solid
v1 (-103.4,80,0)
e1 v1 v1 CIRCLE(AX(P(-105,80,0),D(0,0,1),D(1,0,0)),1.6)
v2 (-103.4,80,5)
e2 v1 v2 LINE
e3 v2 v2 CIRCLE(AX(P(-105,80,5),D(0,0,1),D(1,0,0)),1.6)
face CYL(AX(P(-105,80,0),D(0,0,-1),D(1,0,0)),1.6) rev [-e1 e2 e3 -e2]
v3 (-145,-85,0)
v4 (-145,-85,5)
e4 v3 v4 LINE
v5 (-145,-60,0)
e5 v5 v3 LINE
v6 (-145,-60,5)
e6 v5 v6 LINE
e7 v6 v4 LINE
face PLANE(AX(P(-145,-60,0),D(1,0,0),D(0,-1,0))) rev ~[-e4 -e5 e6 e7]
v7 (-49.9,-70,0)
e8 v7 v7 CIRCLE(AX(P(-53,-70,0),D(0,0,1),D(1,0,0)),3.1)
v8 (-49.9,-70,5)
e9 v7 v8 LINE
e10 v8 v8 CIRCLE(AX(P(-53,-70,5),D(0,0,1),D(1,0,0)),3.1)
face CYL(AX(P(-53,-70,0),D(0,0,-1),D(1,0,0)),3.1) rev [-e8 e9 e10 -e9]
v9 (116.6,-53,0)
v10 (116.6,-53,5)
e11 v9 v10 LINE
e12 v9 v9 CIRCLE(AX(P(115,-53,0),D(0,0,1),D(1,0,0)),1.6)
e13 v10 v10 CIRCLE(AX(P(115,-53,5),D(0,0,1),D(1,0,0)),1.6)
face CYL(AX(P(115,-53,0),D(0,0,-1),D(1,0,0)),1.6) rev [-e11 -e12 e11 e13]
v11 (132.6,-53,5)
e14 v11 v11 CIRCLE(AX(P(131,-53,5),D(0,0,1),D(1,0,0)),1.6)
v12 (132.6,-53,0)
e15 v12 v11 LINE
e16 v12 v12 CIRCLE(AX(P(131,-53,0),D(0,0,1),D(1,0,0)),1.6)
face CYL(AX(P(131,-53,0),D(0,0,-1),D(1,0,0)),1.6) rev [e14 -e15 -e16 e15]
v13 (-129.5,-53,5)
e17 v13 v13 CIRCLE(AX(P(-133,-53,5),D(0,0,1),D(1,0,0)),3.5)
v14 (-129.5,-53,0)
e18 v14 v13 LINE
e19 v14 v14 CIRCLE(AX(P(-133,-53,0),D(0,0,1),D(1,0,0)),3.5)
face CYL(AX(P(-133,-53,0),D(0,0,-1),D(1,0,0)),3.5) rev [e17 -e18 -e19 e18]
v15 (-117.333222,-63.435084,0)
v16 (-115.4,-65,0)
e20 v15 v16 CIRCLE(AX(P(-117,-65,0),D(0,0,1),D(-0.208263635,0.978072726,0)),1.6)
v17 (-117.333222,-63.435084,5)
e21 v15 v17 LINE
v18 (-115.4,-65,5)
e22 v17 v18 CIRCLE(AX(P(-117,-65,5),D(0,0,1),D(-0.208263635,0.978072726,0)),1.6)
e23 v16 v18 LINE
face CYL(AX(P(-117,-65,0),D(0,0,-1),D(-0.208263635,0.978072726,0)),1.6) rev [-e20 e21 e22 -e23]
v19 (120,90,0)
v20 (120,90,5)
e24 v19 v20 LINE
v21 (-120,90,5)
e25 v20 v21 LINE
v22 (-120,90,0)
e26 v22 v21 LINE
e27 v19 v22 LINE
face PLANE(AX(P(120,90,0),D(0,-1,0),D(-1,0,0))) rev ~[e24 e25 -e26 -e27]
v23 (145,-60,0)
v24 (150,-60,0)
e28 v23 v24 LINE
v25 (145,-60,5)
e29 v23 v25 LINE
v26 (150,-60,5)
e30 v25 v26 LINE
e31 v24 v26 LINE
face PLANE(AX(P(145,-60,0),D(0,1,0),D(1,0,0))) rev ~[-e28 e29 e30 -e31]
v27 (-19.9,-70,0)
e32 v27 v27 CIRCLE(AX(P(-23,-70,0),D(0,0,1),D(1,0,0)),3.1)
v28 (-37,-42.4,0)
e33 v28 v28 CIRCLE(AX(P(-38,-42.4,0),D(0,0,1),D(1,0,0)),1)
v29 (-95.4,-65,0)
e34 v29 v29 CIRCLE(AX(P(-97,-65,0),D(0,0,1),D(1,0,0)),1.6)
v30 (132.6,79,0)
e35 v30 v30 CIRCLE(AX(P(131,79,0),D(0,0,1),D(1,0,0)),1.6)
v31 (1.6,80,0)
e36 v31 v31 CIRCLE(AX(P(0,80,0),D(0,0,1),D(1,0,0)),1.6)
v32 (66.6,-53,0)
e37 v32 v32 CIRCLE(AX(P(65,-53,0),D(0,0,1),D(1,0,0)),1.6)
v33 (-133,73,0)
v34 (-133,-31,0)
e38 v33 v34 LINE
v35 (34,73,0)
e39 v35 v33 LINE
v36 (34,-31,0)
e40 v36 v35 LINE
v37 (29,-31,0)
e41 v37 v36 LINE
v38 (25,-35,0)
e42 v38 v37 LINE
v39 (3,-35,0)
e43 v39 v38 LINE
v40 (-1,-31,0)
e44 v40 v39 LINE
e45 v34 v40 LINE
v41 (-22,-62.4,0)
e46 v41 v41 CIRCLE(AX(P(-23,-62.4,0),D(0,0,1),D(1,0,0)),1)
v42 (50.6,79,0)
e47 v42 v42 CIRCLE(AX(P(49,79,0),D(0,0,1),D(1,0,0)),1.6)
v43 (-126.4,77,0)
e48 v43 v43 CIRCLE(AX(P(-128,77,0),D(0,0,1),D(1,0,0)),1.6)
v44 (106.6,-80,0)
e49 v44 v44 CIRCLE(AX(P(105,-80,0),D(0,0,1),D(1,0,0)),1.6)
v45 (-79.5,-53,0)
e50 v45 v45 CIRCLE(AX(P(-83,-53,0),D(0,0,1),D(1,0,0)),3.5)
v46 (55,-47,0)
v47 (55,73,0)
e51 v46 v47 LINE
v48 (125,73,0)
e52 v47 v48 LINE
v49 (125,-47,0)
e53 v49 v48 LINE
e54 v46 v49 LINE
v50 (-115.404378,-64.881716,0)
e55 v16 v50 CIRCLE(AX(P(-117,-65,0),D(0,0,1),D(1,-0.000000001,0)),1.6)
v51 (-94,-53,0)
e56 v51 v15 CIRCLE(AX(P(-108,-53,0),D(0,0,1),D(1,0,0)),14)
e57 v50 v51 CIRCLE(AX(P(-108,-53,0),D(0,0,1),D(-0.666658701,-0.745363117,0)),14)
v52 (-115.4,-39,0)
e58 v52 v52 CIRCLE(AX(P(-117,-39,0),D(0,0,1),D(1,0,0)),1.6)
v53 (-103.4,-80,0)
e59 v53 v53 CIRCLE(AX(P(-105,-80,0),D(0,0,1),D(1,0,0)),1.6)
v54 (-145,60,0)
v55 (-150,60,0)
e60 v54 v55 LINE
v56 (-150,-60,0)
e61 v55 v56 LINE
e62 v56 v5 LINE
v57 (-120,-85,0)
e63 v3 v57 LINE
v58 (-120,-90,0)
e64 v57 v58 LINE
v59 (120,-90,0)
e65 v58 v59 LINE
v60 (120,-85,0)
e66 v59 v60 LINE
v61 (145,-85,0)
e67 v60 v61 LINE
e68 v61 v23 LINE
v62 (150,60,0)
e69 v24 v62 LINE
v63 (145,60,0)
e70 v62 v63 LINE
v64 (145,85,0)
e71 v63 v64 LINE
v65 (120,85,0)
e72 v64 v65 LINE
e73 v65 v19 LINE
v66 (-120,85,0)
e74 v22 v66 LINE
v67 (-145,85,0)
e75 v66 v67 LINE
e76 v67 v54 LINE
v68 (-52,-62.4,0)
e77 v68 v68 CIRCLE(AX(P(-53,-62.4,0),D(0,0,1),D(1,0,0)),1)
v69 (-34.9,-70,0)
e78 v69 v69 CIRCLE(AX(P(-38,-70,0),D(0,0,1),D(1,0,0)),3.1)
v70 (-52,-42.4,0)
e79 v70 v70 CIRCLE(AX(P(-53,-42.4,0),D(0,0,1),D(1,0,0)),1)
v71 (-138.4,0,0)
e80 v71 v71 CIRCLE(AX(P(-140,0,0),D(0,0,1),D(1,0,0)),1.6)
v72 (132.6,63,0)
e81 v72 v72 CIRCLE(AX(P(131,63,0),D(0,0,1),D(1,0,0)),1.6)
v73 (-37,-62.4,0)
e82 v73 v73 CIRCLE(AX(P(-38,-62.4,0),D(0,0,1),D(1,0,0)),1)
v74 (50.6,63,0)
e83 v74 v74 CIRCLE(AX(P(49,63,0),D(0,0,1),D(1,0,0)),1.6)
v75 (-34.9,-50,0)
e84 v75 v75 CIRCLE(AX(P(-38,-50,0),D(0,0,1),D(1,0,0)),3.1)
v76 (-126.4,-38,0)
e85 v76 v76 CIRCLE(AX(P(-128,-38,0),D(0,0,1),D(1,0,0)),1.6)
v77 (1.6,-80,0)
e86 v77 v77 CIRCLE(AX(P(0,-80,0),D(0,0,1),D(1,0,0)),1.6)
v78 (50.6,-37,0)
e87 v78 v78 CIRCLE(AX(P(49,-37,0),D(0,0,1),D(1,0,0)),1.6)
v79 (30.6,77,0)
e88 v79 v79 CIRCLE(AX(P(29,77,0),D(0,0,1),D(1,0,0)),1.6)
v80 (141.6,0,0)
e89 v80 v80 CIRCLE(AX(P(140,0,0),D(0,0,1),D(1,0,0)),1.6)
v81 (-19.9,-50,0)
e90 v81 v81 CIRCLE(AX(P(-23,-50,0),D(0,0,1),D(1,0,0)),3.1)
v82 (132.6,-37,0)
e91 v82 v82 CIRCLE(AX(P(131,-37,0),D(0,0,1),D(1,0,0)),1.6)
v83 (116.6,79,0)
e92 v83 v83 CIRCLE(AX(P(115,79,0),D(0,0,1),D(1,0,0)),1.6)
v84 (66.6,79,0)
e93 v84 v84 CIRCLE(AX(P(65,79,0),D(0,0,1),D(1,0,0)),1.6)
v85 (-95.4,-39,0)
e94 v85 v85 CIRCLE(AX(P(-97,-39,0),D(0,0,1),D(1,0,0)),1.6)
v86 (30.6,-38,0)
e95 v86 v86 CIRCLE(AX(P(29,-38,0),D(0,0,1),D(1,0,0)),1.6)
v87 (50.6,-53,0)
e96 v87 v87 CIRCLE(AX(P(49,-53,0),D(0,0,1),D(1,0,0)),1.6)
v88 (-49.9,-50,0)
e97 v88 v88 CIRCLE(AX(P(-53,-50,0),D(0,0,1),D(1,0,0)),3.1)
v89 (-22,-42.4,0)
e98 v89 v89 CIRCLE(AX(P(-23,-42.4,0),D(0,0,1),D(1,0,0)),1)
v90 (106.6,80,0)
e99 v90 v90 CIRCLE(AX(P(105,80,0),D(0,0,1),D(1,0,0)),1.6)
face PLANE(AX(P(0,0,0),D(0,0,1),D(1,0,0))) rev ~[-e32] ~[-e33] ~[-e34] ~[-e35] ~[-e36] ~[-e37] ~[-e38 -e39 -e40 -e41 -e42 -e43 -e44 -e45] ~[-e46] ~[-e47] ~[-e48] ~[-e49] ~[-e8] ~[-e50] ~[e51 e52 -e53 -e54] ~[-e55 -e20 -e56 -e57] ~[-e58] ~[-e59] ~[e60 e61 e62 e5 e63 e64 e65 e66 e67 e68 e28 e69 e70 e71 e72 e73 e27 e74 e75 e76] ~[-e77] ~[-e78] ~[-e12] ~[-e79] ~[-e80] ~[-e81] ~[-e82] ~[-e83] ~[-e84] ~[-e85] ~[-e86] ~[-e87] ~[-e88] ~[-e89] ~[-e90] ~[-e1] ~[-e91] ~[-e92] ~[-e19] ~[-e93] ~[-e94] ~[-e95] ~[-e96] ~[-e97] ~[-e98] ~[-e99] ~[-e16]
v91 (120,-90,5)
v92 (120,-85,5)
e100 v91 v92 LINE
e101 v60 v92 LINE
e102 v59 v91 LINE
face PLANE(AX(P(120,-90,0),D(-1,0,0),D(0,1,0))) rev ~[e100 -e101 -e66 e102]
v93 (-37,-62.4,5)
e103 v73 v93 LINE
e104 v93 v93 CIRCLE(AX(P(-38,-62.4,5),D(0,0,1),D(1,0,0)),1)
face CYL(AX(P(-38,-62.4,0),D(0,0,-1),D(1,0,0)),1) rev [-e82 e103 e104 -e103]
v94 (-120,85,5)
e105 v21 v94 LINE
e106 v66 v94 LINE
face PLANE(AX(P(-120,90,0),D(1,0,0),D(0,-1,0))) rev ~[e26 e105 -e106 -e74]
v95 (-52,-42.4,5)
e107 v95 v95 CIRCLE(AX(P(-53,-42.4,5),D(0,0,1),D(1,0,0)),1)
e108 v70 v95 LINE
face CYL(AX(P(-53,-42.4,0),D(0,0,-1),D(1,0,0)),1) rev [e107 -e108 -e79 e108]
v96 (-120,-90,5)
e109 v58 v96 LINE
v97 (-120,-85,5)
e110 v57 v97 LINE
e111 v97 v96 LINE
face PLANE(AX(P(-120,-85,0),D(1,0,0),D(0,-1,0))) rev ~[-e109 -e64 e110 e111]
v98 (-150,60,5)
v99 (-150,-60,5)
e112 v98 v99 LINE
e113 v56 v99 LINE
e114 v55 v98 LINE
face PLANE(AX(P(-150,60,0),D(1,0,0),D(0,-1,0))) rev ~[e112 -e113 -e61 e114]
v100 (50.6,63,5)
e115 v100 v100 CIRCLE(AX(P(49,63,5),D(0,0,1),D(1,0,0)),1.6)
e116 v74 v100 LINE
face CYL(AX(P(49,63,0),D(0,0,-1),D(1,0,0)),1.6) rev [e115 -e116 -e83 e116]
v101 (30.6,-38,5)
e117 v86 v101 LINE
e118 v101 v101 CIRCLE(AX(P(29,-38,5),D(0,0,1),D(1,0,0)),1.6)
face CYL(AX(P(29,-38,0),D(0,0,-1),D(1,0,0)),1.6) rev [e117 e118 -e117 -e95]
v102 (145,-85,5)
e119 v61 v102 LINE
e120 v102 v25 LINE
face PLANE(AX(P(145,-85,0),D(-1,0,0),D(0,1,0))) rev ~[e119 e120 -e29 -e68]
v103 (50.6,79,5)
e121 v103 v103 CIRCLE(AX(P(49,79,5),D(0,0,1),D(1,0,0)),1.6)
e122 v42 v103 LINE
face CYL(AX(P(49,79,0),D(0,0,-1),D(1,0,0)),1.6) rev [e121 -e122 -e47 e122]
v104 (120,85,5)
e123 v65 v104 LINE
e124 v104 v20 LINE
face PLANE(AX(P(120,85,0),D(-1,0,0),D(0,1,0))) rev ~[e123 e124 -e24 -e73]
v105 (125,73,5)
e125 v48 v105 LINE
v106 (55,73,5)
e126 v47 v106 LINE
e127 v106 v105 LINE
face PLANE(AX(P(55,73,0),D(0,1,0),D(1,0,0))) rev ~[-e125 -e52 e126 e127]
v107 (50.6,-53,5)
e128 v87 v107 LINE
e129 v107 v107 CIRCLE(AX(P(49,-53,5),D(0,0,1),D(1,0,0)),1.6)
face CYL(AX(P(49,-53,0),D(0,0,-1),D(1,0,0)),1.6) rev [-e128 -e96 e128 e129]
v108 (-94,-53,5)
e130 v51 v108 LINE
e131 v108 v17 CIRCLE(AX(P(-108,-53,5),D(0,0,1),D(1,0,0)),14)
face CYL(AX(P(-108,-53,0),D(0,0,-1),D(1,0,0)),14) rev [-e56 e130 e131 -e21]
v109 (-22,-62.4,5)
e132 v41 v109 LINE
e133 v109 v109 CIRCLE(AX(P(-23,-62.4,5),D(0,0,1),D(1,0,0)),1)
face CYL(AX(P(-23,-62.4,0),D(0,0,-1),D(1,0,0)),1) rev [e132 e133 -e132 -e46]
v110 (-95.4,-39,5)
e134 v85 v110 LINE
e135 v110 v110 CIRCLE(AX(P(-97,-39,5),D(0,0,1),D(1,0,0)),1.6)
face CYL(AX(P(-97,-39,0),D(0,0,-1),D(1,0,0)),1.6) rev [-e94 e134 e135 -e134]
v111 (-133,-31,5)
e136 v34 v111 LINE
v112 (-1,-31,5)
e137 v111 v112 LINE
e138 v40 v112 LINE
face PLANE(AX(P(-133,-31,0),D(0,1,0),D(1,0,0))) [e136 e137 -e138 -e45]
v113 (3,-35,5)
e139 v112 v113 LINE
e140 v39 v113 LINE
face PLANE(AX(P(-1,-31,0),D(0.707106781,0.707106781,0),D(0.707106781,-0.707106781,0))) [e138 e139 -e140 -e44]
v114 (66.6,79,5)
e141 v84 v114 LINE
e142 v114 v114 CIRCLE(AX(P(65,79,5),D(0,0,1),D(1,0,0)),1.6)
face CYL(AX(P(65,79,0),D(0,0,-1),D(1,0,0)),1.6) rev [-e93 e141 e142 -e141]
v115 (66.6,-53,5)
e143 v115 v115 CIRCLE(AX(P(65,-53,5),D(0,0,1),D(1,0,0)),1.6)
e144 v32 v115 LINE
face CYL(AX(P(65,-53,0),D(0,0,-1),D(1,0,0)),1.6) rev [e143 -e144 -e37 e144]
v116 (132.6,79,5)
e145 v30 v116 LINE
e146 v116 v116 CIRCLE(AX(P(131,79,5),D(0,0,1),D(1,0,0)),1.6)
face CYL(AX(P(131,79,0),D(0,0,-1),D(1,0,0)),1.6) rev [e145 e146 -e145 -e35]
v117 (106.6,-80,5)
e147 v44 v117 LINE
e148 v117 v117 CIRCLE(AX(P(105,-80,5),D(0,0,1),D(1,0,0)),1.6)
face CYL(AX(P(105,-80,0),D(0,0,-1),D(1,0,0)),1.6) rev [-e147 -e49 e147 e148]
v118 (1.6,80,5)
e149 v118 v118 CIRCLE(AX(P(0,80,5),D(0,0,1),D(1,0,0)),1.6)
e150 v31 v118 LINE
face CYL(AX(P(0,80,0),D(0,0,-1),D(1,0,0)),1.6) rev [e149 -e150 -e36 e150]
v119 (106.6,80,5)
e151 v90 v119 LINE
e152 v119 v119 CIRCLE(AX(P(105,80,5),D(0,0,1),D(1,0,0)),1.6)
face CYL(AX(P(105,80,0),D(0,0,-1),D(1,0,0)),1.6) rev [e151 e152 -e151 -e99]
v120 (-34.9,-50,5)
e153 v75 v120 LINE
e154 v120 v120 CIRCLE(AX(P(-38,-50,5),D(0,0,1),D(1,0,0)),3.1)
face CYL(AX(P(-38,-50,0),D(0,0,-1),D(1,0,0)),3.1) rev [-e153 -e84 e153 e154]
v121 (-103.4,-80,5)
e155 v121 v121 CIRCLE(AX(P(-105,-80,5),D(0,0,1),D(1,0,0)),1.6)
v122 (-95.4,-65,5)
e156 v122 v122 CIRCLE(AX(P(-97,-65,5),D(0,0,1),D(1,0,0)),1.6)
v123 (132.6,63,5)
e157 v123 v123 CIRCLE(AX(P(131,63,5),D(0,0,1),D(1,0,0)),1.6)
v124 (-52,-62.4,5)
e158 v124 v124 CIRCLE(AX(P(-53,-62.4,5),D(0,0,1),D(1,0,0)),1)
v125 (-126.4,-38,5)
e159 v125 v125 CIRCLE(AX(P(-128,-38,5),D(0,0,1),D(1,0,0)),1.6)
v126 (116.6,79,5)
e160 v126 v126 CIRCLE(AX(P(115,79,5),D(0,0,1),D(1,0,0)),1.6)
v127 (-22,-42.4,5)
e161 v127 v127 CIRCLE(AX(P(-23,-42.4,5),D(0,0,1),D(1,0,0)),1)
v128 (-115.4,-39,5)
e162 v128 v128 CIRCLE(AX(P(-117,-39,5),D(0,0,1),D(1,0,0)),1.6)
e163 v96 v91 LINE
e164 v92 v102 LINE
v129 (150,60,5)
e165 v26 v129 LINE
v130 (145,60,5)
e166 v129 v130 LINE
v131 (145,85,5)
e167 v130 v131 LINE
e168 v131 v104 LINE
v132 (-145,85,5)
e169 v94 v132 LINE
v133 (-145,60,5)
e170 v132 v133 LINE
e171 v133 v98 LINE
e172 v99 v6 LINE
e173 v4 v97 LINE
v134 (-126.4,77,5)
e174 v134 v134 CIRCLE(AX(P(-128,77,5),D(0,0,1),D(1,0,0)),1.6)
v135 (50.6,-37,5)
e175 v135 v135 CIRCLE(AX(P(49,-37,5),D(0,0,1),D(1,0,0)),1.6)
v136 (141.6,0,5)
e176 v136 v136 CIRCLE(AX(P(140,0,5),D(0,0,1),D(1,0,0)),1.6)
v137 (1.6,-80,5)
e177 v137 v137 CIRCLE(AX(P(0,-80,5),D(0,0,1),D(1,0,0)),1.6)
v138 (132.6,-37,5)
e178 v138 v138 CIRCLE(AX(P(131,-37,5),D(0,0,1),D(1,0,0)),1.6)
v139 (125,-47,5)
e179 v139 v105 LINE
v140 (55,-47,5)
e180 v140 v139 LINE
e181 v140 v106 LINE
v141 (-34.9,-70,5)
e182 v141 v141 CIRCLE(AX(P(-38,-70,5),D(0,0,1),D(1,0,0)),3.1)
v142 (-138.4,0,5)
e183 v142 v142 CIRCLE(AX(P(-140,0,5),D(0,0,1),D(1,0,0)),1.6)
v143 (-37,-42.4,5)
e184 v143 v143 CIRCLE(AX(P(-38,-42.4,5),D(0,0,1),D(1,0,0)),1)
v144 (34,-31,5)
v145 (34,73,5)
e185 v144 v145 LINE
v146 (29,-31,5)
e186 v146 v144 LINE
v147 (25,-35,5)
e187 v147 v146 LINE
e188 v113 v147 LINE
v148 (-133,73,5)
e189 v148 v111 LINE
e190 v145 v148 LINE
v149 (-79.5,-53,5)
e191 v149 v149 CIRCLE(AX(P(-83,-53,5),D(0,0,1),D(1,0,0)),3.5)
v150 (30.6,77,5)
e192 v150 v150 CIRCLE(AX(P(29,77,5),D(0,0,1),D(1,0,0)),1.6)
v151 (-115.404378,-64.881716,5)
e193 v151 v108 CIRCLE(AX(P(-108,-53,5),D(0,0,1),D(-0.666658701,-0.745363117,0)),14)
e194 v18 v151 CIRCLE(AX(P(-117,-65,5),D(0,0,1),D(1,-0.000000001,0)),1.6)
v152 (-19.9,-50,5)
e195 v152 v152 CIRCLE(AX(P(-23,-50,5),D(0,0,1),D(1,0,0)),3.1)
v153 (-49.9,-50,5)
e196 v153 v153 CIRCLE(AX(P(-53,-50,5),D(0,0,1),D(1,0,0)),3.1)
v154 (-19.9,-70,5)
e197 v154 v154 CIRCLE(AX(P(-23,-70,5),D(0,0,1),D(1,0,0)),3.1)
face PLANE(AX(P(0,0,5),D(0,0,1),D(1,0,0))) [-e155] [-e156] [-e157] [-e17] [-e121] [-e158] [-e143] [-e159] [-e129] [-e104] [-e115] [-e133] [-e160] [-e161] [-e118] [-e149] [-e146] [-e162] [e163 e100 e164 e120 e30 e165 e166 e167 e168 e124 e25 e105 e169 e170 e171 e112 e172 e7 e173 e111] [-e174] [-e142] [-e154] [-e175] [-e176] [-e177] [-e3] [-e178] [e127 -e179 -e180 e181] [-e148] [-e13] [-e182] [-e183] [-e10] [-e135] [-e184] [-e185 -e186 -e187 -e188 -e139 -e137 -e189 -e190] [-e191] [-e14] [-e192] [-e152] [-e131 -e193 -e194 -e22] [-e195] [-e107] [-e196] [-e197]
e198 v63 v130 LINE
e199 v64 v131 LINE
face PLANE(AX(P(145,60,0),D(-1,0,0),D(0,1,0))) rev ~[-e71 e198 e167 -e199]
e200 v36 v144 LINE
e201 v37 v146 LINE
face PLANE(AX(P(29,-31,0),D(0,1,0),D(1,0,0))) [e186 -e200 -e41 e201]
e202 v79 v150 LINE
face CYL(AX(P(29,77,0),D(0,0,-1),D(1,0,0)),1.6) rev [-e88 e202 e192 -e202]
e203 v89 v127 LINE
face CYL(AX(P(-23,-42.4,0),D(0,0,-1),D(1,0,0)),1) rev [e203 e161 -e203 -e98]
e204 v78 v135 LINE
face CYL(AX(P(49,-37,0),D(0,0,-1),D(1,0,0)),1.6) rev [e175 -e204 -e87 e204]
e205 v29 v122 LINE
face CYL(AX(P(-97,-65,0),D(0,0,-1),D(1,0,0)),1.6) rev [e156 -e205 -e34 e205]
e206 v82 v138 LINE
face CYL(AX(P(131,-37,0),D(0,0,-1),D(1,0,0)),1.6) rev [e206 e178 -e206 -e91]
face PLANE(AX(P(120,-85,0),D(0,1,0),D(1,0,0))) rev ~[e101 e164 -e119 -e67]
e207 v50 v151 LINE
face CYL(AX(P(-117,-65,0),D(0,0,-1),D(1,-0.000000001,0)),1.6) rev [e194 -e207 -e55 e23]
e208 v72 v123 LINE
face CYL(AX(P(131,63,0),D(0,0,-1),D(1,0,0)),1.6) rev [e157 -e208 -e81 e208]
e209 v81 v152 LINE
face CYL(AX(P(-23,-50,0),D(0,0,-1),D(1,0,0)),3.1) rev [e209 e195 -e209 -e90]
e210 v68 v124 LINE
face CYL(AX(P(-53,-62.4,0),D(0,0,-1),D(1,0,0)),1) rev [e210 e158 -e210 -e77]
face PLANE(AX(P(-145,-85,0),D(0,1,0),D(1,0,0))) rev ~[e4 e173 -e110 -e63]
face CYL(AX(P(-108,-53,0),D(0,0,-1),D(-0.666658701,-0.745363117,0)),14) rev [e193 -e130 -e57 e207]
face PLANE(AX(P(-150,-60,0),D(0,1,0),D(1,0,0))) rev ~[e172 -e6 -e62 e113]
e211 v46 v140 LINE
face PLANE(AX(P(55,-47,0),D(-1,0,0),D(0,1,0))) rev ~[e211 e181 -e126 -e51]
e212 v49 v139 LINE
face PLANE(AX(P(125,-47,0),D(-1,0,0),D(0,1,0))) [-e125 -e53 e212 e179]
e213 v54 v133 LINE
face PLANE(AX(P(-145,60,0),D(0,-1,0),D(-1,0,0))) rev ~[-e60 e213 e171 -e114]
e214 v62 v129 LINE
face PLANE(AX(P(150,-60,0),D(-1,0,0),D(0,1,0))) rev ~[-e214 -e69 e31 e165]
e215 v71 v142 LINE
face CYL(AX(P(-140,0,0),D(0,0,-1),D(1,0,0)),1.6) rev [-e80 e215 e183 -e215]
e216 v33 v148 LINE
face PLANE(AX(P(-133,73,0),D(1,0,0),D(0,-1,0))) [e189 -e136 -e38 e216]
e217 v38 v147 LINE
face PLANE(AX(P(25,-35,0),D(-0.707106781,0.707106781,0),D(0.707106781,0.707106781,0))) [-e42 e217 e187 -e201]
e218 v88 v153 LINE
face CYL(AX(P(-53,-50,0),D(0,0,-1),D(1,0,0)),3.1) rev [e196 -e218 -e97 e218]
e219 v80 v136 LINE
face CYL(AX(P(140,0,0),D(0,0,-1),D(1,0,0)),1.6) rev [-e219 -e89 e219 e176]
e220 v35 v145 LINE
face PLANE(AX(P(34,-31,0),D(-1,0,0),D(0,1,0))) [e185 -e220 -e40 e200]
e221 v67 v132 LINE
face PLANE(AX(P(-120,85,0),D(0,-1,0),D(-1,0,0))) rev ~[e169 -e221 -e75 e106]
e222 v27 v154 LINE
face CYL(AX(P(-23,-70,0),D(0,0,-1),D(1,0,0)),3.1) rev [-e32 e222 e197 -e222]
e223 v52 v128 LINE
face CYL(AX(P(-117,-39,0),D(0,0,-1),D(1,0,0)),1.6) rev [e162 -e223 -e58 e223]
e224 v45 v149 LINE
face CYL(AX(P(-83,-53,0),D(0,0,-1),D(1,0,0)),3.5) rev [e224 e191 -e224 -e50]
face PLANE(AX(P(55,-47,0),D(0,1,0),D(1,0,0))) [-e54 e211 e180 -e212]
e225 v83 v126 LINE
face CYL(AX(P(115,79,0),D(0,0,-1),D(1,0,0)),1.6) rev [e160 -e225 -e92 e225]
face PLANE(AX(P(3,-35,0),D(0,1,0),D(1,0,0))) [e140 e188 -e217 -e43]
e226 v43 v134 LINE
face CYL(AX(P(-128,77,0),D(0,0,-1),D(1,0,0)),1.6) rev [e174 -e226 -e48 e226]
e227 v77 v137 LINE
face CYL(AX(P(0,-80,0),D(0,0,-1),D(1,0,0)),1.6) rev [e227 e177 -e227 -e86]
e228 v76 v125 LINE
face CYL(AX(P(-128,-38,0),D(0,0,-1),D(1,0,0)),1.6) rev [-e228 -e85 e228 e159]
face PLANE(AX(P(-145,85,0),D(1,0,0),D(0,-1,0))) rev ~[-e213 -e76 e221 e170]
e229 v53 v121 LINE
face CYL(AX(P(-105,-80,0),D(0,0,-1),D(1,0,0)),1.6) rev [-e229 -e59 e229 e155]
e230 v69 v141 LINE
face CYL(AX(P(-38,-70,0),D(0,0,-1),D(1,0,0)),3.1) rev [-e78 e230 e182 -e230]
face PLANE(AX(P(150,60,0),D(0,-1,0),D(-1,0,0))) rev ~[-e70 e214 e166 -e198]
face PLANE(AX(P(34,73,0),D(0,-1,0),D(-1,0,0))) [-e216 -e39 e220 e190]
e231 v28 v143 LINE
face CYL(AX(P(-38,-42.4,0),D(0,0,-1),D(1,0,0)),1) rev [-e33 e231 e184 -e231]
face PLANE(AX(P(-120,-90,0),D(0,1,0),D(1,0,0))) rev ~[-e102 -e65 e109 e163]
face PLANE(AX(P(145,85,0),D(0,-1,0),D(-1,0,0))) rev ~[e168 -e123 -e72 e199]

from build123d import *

# Parameters (mm, degrees)
F0_R     = 1.6
F5_DEPTH = 5
F1_R     = 1.6
F2_W     = 70
F2_H     = 120
F2_R     = 1.6
F3_R     = 1.6
F3_R_2   = 3.5
F4_R     = 3.1
F4_R_2   = 1
F6_DEPTH = 5


with BuildPart() as f5:
    # F0 (on Top) → F5 (new body)
    with BuildSketch(Plane.XY):
        Polygon((120, 90), (-120, 90), (-120, 85), (-145, 85), (-145, 60), (-150, 60), (-150, -60), (-145, -60), (-145, -85), (-120, -85), (-120, -90), (120, -90), (120, -85), (145, -85), (145, -60), (150, -60), (150, 60), (145, 60), (145, 85), (120, 85), align=None)
        with Locations((-105, -80)):
            Circle(F0_R, mode=Mode.SUBTRACT)
        with Locations((0, -80)):
            Circle(F0_R, mode=Mode.SUBTRACT)
        with Locations((105, -80)):
            Circle(F0_R, mode=Mode.SUBTRACT)
        with Locations((-140, 0)):
            Circle(F0_R, mode=Mode.SUBTRACT)
        with Locations((-105, 80)):
            Circle(F0_R, mode=Mode.SUBTRACT)
        with Locations((140, 0)):
            Circle(F0_R, mode=Mode.SUBTRACT)
        with Locations((0, 80)):
            Circle(F0_R, mode=Mode.SUBTRACT)
        with Locations((105, 80)):
            Circle(F0_R, mode=Mode.SUBTRACT)
    extrude(amount=F5_DEPTH)

    # F1 (on face) + F2 (on face) + F3 (on face) + F4 (on face) → F6 (cut)
    with BuildSketch(Plane.XY):
        Polygon((34, 73), (-133, 73), (-133, -31), (-1, -31), (28.2220042013, -31), (29, -31), (31.171190082, -31), (34, -31), align=None)
        Polygon((28.2220042013, -31), (-1, -31), (3, -35), (25, -35), (29, -31), align=None)
        with Locations((-128, 77)):
            Circle(F1_R)
        with Locations((29, 77)):
            Circle(F1_R)
        with Locations((29, -38)):
            Circle(F1_R)
        with Locations((-128, -38)):
            Circle(F1_R)
    with BuildSketch(Plane.XY):
        with Locations((90, 13)):
            Rectangle(F2_W, F2_H)
        with Locations((131, 79)):
            Circle(F2_R)
        with Locations((115, 79)):
            Circle(F2_R)
        with Locations((131, 63)):
            Circle(F2_R)
        with Locations((65, 79)):
            Circle(F2_R)
        with Locations((49, 79)):
            Circle(F2_R)
        with Locations((49, 63)):
            Circle(F2_R)
        with Locations((49, -37)):
            Circle(F2_R)
        with Locations((49, -53)):
            Circle(F2_R)
        with Locations((65, -53)):
            Circle(F2_R)
        with Locations((115, -53)):
            Circle(F2_R)
        with Locations((131, -53)):
            Circle(F2_R)
        with Locations((131, -37)):
            Circle(F2_R)
    with BuildSketch(Plane.XY):
        with BuildLine():
            ThreePointArc((-115.4043781836, -64.8817163623), (-101.205196639, -65.2405329657), (-94, -53))
            ThreePointArc((-94, -53), (-113.715544356, -40.2198375317), (-117.3332218164, -63.4350836377))
            ThreePointArc((-117.3332218164, -63.4350836377), (-116.04, -63.72), (-115.4043781836, -64.8817163623))
        make_face()
        with BuildLine():
            ThreePointArc((-115.4043781836, -64.8817163623), (-116.04, -63.72), (-117.3332218164, -63.4350836377))
            ThreePointArc((-117.3332218164, -63.4350836377), (-116.4, -64.2), (-115.4043781836, -64.8817163623))
        make_face()
        with BuildLine():
            ThreePointArc((-115.4043781836, -64.8817163623), (-116.4, -64.2), (-117.3332218164, -63.4350836377))
            ThreePointArc((-117.3332218164, -63.4350836377), (-118.0066889027, -66.2436146723), (-115.4, -65))
            ThreePointArc((-115.4, -65), (-115.4010949205, -64.9408176812), (-115.4043781836, -64.8817163623))
        make_face()
        with Locations((-117, -39)):
            Circle(F3_R)
        with Locations((-97, -39)):
            Circle(F3_R)
        with Locations((-97, -65)):
            Circle(F3_R)
        with Locations((-83, -53)):
            Circle(F3_R_2)
        with Locations((-133, -53)):
            Circle(F3_R_2)
    with BuildSketch(Plane.XY):
        with Locations((-53, -70)):
            Circle(F4_R)
        with Locations((-53, -62.4)):
            Circle(F4_R_2)
        with Locations((-53, -50)):
            Circle(F4_R)
        with Locations((-53, -42.4)):
            Circle(F4_R_2)
        with Locations((-38, -70)):
            Circle(F4_R)
        with Locations((-38, -62.4)):
            Circle(F4_R_2)
        with Locations((-38, -50)):
            Circle(F4_R)
        with Locations((-38, -42.4)):
            Circle(F4_R_2)
        with Locations((-23, -70)):
            Circle(F4_R)
        with Locations((-23, -62.4)):
            Circle(F4_R_2)
        with Locations((-23, -50)):
            Circle(F4_R)
        with Locations((-23, -42.4)):
            Circle(F4_R_2)
    extrude(amount=F6_DEPTH, mode=Mode.SUBTRACT)


solid = f5.part
